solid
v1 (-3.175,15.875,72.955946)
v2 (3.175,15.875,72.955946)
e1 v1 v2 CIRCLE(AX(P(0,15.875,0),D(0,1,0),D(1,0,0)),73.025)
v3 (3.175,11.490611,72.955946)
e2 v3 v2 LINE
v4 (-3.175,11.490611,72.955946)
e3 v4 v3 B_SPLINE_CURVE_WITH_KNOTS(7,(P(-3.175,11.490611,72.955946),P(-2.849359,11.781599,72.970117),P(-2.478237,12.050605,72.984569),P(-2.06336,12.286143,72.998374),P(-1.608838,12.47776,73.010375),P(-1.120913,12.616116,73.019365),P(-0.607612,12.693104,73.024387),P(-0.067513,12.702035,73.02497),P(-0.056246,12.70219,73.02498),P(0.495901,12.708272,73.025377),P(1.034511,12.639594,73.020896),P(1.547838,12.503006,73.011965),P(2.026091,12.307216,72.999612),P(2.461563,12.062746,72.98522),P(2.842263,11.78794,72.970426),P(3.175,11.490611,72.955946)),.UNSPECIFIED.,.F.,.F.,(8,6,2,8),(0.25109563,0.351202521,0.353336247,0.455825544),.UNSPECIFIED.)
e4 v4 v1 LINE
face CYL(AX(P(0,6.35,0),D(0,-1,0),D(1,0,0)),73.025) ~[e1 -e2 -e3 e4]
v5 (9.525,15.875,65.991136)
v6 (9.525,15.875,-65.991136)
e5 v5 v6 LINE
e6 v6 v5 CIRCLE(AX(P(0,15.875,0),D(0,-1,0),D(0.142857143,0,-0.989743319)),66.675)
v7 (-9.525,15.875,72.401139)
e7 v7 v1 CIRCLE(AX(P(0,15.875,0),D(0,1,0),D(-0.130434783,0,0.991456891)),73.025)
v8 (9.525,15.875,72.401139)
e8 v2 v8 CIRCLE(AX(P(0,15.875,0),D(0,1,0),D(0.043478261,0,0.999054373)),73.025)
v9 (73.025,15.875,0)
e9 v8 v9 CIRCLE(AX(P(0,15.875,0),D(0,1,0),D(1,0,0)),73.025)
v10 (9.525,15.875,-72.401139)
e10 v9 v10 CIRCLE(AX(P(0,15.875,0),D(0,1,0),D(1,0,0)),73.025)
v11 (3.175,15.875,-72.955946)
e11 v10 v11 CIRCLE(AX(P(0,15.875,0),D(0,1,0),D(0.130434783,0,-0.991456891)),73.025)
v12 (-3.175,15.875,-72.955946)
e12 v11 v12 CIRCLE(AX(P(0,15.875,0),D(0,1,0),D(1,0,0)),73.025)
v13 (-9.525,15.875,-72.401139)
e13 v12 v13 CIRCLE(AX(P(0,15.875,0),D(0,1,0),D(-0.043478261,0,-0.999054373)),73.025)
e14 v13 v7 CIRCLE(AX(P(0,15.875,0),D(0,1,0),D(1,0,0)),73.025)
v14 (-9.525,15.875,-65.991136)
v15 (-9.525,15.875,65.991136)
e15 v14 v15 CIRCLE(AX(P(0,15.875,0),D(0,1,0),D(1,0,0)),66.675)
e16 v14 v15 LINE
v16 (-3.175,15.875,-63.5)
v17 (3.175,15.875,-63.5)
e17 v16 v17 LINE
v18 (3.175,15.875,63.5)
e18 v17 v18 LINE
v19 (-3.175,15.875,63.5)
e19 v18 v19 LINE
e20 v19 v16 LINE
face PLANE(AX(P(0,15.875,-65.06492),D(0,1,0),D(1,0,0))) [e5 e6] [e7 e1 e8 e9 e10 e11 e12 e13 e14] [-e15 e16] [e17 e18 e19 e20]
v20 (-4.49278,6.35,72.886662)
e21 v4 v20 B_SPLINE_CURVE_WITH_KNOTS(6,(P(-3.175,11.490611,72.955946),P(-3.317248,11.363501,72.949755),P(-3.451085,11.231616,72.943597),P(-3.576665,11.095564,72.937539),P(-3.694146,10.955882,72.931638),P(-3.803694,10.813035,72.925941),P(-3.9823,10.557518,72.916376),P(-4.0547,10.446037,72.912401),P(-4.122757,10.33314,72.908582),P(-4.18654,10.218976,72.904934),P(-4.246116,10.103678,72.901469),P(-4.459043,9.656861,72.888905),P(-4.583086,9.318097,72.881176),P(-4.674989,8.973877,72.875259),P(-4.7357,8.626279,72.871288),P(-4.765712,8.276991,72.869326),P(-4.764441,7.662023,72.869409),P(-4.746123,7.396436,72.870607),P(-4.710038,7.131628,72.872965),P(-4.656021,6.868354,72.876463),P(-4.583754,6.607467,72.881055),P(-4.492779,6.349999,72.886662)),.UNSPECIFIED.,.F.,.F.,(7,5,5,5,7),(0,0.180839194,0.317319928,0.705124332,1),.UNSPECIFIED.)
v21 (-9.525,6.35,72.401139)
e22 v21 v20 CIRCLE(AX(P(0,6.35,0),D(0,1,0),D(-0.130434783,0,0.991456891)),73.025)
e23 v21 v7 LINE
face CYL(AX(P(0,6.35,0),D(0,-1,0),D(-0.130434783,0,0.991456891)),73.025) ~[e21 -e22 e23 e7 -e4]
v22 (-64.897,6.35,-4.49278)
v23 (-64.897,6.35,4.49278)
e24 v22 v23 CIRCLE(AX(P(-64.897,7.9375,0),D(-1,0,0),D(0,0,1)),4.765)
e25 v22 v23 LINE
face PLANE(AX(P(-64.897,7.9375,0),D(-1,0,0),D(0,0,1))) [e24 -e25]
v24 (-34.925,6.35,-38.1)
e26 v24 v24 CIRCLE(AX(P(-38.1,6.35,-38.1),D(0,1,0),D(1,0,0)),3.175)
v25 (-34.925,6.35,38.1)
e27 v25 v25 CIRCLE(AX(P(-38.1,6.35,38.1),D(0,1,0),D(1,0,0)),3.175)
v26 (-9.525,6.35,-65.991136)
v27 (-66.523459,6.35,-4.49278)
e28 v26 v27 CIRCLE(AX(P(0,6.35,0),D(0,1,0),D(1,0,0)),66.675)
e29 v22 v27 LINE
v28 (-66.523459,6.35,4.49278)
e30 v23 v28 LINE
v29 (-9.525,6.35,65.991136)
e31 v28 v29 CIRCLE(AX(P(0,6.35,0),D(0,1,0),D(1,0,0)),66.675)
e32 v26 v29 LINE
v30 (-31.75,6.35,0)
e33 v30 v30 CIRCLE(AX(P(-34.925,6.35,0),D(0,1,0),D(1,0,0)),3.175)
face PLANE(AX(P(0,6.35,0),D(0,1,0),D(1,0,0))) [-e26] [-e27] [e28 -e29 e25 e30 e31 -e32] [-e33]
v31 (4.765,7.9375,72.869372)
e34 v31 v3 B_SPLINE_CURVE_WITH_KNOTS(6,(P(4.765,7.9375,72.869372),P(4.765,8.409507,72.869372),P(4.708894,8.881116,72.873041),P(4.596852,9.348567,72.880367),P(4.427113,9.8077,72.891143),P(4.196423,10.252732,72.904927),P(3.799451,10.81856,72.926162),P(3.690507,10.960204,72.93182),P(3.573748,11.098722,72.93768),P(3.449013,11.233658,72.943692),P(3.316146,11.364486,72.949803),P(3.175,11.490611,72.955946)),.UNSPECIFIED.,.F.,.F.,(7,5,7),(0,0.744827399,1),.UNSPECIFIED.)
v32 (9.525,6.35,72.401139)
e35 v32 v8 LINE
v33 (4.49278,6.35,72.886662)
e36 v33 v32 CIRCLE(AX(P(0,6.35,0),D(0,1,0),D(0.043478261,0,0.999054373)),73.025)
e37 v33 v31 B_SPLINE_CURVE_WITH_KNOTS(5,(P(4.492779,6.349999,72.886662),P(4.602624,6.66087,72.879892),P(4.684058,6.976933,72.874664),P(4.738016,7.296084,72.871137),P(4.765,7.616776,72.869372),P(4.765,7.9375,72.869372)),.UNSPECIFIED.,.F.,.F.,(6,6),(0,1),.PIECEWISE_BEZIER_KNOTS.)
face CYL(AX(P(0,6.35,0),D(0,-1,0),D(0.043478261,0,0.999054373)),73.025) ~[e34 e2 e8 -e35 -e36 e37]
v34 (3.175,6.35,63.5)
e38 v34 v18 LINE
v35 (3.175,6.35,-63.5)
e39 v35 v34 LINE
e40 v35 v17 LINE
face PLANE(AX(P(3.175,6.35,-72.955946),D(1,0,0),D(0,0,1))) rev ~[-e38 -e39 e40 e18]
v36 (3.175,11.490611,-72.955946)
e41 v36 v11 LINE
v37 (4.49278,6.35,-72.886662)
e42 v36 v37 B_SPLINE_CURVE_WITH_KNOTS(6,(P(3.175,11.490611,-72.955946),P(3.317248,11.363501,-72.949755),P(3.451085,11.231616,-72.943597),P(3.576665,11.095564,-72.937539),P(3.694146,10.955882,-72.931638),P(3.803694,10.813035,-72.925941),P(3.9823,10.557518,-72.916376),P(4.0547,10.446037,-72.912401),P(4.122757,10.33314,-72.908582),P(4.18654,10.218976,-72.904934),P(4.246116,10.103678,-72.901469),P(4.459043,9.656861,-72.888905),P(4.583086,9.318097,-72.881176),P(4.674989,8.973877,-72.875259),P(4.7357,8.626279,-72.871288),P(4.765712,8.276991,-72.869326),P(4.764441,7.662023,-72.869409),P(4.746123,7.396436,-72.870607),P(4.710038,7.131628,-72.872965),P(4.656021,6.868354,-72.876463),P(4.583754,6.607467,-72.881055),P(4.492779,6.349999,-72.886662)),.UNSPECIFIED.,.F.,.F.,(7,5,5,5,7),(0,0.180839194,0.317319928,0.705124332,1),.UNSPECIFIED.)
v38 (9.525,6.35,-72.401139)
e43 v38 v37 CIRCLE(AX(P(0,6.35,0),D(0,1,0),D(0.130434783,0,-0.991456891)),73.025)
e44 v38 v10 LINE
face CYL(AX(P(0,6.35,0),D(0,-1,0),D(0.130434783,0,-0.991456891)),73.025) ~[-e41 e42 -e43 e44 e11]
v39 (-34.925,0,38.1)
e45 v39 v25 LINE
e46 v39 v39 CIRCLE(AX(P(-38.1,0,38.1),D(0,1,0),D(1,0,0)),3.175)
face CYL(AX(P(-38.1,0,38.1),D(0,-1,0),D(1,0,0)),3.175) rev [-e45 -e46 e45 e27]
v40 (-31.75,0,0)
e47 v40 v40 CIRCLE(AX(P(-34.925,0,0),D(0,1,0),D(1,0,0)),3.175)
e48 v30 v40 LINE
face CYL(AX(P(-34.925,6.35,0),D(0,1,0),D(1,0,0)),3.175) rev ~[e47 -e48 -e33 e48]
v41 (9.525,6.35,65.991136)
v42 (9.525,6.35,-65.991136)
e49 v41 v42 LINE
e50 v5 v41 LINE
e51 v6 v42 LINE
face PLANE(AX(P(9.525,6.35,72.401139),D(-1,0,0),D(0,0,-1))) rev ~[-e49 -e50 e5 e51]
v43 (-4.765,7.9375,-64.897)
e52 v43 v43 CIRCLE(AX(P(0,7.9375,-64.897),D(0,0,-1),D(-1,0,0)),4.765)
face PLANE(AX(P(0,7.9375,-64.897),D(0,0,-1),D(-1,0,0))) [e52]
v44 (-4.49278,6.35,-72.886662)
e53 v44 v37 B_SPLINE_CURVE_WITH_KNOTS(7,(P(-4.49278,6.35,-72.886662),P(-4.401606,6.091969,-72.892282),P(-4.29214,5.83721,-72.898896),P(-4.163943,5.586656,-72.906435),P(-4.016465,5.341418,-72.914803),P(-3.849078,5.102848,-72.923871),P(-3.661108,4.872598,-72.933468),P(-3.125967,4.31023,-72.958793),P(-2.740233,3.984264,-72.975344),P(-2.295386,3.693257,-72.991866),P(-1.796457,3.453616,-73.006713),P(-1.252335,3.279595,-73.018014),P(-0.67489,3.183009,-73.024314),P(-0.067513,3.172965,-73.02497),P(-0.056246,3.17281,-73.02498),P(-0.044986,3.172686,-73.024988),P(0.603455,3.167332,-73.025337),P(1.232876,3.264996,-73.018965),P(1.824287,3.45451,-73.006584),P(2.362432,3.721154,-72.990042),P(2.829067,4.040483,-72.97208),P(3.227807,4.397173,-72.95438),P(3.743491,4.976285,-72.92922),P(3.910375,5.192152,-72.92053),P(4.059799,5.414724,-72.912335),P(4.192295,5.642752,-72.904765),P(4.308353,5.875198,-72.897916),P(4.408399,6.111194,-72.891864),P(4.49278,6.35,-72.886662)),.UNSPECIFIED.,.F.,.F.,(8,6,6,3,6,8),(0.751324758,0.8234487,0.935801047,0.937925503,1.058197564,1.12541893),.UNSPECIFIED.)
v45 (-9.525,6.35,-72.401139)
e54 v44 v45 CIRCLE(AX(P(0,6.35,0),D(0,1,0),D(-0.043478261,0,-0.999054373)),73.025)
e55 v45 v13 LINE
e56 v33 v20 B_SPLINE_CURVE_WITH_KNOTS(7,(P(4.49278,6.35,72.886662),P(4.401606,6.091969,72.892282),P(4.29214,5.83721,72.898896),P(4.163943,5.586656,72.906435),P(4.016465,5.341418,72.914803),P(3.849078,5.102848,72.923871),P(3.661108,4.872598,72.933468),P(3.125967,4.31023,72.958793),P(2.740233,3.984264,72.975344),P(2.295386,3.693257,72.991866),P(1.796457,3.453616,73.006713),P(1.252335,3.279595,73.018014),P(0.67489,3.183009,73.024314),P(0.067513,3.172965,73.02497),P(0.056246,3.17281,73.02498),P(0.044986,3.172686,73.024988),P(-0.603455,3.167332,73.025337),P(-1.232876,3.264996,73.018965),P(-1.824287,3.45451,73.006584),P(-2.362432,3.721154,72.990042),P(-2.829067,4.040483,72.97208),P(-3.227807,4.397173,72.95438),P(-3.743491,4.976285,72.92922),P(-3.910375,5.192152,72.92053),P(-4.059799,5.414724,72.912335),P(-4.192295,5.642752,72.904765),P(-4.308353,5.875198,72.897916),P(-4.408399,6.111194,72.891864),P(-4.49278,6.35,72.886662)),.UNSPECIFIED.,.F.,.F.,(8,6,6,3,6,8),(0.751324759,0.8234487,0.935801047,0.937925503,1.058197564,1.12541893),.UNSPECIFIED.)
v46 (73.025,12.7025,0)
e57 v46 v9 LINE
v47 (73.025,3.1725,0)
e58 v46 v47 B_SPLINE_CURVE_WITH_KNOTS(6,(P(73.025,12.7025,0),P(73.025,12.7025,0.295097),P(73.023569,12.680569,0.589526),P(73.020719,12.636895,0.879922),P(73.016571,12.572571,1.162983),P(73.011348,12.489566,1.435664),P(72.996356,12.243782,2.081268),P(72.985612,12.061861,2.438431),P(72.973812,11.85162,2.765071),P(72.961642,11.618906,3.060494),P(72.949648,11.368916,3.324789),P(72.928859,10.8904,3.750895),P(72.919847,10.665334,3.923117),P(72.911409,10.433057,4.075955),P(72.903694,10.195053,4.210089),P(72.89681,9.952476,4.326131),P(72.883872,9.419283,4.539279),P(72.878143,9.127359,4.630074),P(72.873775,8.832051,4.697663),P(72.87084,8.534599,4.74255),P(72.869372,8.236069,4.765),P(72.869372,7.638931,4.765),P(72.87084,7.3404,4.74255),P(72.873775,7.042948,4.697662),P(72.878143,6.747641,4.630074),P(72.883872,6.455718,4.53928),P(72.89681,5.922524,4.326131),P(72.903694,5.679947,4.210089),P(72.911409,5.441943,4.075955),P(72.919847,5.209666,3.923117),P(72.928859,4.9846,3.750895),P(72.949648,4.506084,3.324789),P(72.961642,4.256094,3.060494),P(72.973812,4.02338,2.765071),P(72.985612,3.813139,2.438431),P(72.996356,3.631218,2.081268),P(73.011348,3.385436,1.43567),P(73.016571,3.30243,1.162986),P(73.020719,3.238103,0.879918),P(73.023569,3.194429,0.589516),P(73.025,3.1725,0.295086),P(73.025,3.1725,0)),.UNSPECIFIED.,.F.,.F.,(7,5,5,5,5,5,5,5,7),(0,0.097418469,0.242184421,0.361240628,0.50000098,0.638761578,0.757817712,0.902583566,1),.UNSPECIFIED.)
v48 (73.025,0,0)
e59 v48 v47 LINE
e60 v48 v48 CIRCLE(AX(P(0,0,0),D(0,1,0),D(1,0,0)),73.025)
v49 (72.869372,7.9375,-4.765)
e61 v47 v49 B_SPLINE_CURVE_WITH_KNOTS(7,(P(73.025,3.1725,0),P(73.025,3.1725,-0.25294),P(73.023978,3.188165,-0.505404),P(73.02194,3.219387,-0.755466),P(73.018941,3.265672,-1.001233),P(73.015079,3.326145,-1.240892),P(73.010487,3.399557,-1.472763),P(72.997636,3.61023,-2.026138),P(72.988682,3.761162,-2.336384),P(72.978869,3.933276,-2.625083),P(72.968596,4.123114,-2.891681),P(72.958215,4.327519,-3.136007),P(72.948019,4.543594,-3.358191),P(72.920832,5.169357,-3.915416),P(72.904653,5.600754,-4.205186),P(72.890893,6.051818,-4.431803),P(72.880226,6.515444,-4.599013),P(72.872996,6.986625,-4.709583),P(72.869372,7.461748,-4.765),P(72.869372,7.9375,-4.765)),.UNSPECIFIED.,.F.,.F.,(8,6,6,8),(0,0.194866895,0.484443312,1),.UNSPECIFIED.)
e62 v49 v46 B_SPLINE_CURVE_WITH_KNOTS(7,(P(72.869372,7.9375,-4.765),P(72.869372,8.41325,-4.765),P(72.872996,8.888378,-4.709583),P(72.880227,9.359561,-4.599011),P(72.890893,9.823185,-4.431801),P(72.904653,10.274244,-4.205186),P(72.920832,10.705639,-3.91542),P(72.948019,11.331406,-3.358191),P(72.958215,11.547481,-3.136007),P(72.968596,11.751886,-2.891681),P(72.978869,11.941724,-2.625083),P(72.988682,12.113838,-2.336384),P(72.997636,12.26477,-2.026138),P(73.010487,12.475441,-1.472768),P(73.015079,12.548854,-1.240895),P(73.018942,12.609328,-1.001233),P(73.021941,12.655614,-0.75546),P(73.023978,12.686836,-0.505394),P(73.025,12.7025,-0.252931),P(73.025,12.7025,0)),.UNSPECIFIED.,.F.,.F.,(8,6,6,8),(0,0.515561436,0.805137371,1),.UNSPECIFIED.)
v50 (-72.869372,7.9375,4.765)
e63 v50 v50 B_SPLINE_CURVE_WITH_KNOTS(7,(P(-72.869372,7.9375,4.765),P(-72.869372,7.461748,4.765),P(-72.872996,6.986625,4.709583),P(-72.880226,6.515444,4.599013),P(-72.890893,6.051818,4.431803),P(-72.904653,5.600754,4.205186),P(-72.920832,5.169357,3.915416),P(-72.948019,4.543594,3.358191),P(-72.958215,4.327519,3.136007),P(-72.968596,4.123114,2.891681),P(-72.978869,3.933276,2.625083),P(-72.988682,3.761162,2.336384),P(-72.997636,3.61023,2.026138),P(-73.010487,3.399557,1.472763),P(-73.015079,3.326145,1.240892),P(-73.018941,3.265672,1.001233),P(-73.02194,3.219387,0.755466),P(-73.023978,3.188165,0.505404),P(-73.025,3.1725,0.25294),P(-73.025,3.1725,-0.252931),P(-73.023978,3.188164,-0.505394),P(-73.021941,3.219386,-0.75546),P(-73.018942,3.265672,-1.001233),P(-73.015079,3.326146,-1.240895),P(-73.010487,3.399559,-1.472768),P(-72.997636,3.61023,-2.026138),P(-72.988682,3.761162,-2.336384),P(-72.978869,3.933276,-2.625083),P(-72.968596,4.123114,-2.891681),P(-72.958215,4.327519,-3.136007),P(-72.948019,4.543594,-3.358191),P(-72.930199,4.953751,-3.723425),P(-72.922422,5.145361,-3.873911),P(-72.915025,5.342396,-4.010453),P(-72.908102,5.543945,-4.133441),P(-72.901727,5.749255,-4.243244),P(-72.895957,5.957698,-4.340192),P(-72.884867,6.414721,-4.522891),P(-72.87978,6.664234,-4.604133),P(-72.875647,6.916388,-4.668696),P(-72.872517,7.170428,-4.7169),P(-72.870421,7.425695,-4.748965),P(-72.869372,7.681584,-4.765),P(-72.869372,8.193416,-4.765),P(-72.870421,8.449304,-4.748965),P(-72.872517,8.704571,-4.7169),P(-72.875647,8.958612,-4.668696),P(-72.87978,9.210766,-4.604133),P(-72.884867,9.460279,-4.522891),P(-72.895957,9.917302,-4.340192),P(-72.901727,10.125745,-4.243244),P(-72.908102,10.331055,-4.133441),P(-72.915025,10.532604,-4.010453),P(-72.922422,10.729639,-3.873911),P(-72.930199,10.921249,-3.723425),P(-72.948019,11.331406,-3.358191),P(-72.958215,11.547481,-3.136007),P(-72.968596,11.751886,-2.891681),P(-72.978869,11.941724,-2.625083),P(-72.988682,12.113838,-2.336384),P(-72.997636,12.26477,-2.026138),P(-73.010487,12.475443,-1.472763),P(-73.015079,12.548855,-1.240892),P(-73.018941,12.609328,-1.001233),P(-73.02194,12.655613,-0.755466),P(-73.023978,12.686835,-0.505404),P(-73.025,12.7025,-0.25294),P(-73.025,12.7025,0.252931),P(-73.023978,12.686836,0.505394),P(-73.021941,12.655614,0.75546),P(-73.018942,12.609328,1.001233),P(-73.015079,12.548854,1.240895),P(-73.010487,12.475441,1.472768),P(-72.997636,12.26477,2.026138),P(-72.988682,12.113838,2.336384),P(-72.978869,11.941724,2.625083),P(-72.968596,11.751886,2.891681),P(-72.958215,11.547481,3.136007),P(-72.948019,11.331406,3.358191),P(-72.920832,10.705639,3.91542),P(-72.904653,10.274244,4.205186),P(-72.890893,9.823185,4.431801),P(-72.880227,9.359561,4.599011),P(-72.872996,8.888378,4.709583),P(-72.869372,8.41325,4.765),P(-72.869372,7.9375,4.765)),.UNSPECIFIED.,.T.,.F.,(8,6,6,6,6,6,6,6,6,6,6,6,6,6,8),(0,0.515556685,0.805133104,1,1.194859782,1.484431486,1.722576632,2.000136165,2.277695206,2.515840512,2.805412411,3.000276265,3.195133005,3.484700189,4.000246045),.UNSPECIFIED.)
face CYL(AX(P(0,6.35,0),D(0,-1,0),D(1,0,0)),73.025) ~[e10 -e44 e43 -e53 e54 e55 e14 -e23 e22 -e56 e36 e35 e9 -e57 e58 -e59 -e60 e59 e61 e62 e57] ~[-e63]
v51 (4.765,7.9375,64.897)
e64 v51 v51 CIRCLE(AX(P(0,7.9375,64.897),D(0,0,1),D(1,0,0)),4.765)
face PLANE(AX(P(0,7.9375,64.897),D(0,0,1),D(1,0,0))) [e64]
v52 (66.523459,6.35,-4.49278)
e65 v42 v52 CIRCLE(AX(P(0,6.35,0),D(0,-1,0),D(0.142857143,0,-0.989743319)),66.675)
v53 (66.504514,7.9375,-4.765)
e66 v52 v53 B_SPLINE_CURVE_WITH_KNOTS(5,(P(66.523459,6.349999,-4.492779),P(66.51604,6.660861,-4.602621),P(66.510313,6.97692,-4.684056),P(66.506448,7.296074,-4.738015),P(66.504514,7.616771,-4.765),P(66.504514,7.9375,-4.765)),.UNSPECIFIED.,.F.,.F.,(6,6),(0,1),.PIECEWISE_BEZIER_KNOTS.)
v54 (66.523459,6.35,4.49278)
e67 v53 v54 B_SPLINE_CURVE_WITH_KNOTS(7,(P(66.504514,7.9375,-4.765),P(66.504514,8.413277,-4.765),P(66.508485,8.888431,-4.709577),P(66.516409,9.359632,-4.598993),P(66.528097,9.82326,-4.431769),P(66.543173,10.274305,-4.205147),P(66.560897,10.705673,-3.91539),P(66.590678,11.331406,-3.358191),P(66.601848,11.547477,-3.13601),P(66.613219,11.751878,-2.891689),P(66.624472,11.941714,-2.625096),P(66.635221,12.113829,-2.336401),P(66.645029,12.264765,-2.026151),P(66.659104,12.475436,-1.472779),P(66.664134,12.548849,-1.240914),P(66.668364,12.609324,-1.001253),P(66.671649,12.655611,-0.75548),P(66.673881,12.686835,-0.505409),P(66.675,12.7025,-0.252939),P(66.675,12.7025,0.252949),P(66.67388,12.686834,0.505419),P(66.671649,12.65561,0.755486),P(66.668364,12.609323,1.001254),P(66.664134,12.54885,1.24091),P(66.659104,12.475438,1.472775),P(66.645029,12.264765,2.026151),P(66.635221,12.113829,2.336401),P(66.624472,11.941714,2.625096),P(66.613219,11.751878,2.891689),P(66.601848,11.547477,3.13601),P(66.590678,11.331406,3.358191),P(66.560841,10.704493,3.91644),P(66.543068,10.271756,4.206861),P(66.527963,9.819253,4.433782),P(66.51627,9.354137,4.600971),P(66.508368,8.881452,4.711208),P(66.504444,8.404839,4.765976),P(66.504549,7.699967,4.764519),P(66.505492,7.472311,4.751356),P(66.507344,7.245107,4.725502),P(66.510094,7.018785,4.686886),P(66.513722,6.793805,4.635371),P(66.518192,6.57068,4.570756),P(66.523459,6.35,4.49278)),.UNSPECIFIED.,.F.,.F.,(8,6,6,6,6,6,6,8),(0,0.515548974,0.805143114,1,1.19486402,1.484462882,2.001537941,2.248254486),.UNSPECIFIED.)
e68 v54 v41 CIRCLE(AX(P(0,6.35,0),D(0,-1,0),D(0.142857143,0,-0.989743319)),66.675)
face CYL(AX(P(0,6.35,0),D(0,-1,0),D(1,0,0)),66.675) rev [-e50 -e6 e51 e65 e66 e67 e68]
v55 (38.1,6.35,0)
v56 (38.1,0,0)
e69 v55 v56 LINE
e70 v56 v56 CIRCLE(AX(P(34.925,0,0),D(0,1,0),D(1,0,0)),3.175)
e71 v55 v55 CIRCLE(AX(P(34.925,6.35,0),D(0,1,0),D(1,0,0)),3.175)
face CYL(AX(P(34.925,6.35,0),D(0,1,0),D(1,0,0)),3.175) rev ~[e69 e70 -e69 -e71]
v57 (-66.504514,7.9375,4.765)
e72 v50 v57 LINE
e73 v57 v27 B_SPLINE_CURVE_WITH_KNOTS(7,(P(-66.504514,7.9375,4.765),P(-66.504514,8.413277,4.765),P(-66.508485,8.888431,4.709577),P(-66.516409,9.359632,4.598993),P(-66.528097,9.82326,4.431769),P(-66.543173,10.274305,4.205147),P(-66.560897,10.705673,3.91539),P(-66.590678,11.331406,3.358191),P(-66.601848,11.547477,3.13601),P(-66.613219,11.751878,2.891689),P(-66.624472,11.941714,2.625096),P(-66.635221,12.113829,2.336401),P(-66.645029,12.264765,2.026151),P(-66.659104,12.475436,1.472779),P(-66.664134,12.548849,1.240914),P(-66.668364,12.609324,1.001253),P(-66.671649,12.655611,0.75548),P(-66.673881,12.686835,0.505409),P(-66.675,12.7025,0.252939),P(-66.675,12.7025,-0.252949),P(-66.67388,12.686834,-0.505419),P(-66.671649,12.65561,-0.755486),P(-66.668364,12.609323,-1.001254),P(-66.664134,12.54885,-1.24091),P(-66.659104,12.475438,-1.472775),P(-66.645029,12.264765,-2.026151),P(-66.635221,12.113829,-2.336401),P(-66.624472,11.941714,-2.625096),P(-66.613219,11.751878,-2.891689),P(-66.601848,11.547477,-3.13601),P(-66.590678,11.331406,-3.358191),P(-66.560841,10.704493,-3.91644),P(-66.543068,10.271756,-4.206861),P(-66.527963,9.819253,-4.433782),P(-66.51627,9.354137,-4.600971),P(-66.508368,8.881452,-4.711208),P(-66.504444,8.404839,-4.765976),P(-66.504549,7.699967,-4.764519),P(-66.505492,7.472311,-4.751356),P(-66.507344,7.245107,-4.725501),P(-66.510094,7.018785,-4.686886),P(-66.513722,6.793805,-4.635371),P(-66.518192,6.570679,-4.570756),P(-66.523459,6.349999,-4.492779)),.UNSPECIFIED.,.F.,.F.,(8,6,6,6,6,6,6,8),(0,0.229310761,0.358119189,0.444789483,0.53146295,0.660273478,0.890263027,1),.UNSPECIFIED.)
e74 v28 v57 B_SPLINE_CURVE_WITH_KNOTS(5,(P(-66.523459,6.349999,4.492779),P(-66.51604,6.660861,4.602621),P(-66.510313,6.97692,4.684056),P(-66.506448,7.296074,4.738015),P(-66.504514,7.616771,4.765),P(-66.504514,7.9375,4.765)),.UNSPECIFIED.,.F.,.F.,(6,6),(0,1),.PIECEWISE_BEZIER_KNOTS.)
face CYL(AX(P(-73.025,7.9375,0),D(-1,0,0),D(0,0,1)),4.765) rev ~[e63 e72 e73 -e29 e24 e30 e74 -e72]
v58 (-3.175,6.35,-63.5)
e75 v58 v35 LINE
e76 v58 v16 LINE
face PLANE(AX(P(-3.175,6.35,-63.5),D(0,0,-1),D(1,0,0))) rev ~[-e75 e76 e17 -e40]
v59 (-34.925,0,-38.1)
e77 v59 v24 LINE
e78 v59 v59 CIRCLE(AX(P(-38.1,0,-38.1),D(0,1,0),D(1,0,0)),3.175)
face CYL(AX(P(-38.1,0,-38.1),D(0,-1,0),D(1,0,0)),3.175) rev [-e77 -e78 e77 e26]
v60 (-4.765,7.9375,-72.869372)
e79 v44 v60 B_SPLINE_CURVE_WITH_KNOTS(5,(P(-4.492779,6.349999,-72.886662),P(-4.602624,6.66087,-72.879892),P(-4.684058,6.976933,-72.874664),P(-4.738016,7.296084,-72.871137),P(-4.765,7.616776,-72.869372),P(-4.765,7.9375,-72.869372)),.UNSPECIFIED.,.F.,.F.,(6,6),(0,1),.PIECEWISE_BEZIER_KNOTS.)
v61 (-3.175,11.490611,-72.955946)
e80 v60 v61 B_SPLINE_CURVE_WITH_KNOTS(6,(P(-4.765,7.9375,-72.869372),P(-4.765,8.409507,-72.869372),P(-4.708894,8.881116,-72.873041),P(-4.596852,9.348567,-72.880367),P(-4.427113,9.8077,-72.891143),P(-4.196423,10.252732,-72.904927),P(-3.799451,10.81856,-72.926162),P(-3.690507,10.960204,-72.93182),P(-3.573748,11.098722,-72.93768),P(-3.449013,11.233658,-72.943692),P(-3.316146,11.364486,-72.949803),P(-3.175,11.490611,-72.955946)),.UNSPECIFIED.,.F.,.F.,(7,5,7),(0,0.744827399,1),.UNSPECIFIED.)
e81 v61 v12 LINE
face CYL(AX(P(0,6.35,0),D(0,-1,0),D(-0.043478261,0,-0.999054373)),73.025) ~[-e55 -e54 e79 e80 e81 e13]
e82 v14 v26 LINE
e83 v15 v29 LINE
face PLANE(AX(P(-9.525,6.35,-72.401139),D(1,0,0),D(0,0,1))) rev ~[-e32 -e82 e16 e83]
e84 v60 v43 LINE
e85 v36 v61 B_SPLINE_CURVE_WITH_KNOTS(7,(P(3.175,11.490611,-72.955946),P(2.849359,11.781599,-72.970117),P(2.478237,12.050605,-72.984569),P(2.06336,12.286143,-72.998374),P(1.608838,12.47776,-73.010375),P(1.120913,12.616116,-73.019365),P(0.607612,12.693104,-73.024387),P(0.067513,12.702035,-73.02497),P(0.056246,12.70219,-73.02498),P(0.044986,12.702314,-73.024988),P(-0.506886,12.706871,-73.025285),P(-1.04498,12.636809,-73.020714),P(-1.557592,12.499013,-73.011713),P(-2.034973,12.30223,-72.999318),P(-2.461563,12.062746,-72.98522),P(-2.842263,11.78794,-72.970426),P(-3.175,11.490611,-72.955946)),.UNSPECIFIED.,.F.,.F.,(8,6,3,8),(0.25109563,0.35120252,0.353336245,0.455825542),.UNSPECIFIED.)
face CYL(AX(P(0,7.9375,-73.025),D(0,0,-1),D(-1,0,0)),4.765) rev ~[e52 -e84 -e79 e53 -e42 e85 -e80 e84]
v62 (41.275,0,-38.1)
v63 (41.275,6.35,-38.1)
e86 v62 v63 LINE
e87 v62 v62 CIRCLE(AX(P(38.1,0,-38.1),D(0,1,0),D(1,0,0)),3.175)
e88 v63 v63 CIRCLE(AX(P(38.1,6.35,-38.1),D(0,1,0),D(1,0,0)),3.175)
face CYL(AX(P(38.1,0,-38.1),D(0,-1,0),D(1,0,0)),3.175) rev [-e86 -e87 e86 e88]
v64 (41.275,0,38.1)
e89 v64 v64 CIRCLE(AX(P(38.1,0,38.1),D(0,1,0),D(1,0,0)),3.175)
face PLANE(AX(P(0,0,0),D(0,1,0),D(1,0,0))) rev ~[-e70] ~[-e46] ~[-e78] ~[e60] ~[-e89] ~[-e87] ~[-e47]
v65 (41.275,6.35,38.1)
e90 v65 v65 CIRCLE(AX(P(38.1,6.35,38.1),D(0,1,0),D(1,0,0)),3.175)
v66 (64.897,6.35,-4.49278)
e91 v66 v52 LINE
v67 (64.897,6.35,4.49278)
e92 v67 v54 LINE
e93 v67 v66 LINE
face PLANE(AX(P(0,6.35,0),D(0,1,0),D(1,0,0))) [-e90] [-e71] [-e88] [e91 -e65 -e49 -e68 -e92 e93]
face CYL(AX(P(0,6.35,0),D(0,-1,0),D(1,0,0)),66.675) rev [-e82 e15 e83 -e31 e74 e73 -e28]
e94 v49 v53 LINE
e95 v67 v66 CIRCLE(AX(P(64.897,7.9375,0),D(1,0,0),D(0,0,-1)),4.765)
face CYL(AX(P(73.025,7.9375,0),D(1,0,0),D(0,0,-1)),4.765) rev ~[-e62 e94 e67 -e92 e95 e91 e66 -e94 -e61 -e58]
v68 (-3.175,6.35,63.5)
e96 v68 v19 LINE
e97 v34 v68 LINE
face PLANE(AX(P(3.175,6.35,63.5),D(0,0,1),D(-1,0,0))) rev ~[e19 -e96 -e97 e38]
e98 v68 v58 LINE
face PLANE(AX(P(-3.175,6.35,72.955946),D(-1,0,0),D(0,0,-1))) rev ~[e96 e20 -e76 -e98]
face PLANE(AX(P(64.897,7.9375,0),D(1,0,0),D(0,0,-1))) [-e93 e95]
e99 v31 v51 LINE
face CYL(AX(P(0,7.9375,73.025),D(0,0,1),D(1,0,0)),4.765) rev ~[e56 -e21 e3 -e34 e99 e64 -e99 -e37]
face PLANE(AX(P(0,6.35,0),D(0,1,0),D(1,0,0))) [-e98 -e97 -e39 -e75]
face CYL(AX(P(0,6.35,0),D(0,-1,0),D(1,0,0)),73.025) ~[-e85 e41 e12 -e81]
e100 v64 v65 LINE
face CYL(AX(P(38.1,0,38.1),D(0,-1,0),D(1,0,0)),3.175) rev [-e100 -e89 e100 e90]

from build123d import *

# Parameters (mm, degrees)
SKETCH5_R           = 73.025
SKETCH5_R_2         = 3.175
PLATEBASE_DEPTH     = 6.35
PLATETOP_DEPTH      = 9.525
SKETCH9_R           = 73.025
SKETCH9_R_2         = 66.675
PLATEWALLS_DEPTH    = 9.525
SKETCH13_R          = 3.175
RIGHTTHRUHOLE_DEPTH = 6.35
SKETCH14_R          = 3.175
LEFTTHRUHOLE_DEPTH  = 6.35
BOSS_EXTRUDE1_DEPTH = 9.525
SKETCH16_R          = 4.765
INSERTHOLE_DEPTH    = 8.128
INSERTHOLES_COUNT   = 4


with BuildPart() as part:
    # Sketch5 → PlateBase (new body)
    with BuildSketch(Plane(origin=(0, 0, 0), x_dir=(1, 0, 0), z_dir=(0, 1, 0))):
        Circle(SKETCH5_R)
        with Locations((38.1, 38.1)):
            Circle(SKETCH5_R_2, mode=Mode.SUBTRACT)
        with Locations((38.1, -38.1)):
            Circle(SKETCH5_R_2, mode=Mode.SUBTRACT)
        with Locations((-38.1, 38.1)):
            Circle(SKETCH5_R_2, mode=Mode.SUBTRACT)
        with Locations((-38.1, -38.1)):
            Circle(SKETCH5_R_2, mode=Mode.SUBTRACT)
    extrude(amount=PLATEBASE_DEPTH)

    # Sketch6 → PlateTop (add)
    with BuildSketch(Plane(origin=(0, 6.35, 0), x_dir=(1, 0, 0), z_dir=(0, 1, 0))):
        with BuildLine():
            Line((-3.175, 0), (-3.175, 72.955945611))
            ThreePointArc((-3.175, 72.955945611), (-6.35605636, 72.747860261), (-9.525, 72.401139494))
            Line((-9.525, 72.401139494), (-9.525, 0))
            Line((-9.525, 0), (-9.525, -72.401139494))
            ThreePointArc((-9.525, -72.401139494), (-6.35605636, -72.747860261), (-3.175, -72.955945611))
            Line((-3.175, -72.955945611), (-3.175, 0))
        make_face()
        with BuildLine():
            Line((3.175, 72.955945611), (3.175, 0))
            Line((3.175, 0), (3.175, -72.955945611))
            ThreePointArc((3.175, -72.955945611), (6.35605636, -72.747860261), (9.525, -72.401139494))
            Line((9.525, -72.401139494), (9.525, 0))
            Line((9.525, 0), (9.525, 72.401139494))
            ThreePointArc((9.525, 72.401139494), (6.35605636, 72.747860261), (3.175, 72.955945611))
        make_face()
    extrude(amount=PLATETOP_DEPTH)

    # Sketch9 → PlateWalls (add)
    with BuildSketch(Plane(origin=(0, 6.35, 0), x_dir=(1, 0, 0), z_dir=(0, 1, 0))):
        Circle(SKETCH9_R)
        Circle(SKETCH9_R_2, mode=Mode.SUBTRACT)
    extrude(amount=PLATEWALLS_DEPTH)

    # Sketch13 → RightThruHole (cut)
    with BuildSketch(Plane(origin=(0, 6.35, 0), x_dir=(1, 0, 0), z_dir=(0, 1, 0))):
        with Locations((34.925, 0)):
            Circle(SKETCH13_R)
    extrude(amount=-RIGHTTHRUHOLE_DEPTH, mode=Mode.SUBTRACT)

    # Sketch14 → LeftThruHole (cut)
    with BuildSketch(Plane(origin=(0, 6.35, 0), x_dir=(1, 0, 0), z_dir=(0, 1, 0))):
        with Locations((-34.925, 0)):
            Circle(SKETCH14_R)
    extrude(amount=-LEFTTHRUHOLE_DEPTH, mode=Mode.SUBTRACT)

    # Sketch15 → Boss-Extrude1 (add)
    with BuildSketch(Plane(origin=(0, 6.35, 0), x_dir=(1, 0, 0), z_dir=(0, 1, 0))):
        with BuildLine():
            Line((-3.175, 63.5), (3.175, 63.5))
            Line((3.175, 63.5), (3.175, 66.599361859))
            ThreePointArc((3.175, 66.599361859), (0, 66.675), (-3.175, 66.599361859))
            Line((-3.175, 66.599361859), (-3.175, 63.5))
        make_face()
        with BuildLine():
            Line((-3.175, -63.5), (-3.175, -66.599361859))
            ThreePointArc((-3.175, -66.599361859), (0, -66.675), (3.175, -66.599361859))
            Line((3.175, -66.599361859), (3.175, -63.5))
            Line((3.175, -63.5), (-3.175, -63.5))
        make_face()
    extrude(amount=BOSS_EXTRUDE1_DEPTH)

    # Sketch16 → InsertHole (cut)
    with BuildSketch(Plane.XY.offset(73.025)):
        with Locations((0, 7.9375)):
            Circle(SKETCH16_R)
    inserthole = extrude(amount=-INSERTHOLE_DEPTH, mode=Mode.SUBTRACT)

    # InsertHoles: InsertHole ×4 about axis
    insertholes_axis = Axis((0, 0, 0), (0, 1, 0))
    for i in range(1, INSERTHOLES_COUNT):
        add(inserthole.rotate(insertholes_axis, i * 360 / INSERTHOLES_COUNT), mode=Mode.SUBTRACT)


solid = part.part
